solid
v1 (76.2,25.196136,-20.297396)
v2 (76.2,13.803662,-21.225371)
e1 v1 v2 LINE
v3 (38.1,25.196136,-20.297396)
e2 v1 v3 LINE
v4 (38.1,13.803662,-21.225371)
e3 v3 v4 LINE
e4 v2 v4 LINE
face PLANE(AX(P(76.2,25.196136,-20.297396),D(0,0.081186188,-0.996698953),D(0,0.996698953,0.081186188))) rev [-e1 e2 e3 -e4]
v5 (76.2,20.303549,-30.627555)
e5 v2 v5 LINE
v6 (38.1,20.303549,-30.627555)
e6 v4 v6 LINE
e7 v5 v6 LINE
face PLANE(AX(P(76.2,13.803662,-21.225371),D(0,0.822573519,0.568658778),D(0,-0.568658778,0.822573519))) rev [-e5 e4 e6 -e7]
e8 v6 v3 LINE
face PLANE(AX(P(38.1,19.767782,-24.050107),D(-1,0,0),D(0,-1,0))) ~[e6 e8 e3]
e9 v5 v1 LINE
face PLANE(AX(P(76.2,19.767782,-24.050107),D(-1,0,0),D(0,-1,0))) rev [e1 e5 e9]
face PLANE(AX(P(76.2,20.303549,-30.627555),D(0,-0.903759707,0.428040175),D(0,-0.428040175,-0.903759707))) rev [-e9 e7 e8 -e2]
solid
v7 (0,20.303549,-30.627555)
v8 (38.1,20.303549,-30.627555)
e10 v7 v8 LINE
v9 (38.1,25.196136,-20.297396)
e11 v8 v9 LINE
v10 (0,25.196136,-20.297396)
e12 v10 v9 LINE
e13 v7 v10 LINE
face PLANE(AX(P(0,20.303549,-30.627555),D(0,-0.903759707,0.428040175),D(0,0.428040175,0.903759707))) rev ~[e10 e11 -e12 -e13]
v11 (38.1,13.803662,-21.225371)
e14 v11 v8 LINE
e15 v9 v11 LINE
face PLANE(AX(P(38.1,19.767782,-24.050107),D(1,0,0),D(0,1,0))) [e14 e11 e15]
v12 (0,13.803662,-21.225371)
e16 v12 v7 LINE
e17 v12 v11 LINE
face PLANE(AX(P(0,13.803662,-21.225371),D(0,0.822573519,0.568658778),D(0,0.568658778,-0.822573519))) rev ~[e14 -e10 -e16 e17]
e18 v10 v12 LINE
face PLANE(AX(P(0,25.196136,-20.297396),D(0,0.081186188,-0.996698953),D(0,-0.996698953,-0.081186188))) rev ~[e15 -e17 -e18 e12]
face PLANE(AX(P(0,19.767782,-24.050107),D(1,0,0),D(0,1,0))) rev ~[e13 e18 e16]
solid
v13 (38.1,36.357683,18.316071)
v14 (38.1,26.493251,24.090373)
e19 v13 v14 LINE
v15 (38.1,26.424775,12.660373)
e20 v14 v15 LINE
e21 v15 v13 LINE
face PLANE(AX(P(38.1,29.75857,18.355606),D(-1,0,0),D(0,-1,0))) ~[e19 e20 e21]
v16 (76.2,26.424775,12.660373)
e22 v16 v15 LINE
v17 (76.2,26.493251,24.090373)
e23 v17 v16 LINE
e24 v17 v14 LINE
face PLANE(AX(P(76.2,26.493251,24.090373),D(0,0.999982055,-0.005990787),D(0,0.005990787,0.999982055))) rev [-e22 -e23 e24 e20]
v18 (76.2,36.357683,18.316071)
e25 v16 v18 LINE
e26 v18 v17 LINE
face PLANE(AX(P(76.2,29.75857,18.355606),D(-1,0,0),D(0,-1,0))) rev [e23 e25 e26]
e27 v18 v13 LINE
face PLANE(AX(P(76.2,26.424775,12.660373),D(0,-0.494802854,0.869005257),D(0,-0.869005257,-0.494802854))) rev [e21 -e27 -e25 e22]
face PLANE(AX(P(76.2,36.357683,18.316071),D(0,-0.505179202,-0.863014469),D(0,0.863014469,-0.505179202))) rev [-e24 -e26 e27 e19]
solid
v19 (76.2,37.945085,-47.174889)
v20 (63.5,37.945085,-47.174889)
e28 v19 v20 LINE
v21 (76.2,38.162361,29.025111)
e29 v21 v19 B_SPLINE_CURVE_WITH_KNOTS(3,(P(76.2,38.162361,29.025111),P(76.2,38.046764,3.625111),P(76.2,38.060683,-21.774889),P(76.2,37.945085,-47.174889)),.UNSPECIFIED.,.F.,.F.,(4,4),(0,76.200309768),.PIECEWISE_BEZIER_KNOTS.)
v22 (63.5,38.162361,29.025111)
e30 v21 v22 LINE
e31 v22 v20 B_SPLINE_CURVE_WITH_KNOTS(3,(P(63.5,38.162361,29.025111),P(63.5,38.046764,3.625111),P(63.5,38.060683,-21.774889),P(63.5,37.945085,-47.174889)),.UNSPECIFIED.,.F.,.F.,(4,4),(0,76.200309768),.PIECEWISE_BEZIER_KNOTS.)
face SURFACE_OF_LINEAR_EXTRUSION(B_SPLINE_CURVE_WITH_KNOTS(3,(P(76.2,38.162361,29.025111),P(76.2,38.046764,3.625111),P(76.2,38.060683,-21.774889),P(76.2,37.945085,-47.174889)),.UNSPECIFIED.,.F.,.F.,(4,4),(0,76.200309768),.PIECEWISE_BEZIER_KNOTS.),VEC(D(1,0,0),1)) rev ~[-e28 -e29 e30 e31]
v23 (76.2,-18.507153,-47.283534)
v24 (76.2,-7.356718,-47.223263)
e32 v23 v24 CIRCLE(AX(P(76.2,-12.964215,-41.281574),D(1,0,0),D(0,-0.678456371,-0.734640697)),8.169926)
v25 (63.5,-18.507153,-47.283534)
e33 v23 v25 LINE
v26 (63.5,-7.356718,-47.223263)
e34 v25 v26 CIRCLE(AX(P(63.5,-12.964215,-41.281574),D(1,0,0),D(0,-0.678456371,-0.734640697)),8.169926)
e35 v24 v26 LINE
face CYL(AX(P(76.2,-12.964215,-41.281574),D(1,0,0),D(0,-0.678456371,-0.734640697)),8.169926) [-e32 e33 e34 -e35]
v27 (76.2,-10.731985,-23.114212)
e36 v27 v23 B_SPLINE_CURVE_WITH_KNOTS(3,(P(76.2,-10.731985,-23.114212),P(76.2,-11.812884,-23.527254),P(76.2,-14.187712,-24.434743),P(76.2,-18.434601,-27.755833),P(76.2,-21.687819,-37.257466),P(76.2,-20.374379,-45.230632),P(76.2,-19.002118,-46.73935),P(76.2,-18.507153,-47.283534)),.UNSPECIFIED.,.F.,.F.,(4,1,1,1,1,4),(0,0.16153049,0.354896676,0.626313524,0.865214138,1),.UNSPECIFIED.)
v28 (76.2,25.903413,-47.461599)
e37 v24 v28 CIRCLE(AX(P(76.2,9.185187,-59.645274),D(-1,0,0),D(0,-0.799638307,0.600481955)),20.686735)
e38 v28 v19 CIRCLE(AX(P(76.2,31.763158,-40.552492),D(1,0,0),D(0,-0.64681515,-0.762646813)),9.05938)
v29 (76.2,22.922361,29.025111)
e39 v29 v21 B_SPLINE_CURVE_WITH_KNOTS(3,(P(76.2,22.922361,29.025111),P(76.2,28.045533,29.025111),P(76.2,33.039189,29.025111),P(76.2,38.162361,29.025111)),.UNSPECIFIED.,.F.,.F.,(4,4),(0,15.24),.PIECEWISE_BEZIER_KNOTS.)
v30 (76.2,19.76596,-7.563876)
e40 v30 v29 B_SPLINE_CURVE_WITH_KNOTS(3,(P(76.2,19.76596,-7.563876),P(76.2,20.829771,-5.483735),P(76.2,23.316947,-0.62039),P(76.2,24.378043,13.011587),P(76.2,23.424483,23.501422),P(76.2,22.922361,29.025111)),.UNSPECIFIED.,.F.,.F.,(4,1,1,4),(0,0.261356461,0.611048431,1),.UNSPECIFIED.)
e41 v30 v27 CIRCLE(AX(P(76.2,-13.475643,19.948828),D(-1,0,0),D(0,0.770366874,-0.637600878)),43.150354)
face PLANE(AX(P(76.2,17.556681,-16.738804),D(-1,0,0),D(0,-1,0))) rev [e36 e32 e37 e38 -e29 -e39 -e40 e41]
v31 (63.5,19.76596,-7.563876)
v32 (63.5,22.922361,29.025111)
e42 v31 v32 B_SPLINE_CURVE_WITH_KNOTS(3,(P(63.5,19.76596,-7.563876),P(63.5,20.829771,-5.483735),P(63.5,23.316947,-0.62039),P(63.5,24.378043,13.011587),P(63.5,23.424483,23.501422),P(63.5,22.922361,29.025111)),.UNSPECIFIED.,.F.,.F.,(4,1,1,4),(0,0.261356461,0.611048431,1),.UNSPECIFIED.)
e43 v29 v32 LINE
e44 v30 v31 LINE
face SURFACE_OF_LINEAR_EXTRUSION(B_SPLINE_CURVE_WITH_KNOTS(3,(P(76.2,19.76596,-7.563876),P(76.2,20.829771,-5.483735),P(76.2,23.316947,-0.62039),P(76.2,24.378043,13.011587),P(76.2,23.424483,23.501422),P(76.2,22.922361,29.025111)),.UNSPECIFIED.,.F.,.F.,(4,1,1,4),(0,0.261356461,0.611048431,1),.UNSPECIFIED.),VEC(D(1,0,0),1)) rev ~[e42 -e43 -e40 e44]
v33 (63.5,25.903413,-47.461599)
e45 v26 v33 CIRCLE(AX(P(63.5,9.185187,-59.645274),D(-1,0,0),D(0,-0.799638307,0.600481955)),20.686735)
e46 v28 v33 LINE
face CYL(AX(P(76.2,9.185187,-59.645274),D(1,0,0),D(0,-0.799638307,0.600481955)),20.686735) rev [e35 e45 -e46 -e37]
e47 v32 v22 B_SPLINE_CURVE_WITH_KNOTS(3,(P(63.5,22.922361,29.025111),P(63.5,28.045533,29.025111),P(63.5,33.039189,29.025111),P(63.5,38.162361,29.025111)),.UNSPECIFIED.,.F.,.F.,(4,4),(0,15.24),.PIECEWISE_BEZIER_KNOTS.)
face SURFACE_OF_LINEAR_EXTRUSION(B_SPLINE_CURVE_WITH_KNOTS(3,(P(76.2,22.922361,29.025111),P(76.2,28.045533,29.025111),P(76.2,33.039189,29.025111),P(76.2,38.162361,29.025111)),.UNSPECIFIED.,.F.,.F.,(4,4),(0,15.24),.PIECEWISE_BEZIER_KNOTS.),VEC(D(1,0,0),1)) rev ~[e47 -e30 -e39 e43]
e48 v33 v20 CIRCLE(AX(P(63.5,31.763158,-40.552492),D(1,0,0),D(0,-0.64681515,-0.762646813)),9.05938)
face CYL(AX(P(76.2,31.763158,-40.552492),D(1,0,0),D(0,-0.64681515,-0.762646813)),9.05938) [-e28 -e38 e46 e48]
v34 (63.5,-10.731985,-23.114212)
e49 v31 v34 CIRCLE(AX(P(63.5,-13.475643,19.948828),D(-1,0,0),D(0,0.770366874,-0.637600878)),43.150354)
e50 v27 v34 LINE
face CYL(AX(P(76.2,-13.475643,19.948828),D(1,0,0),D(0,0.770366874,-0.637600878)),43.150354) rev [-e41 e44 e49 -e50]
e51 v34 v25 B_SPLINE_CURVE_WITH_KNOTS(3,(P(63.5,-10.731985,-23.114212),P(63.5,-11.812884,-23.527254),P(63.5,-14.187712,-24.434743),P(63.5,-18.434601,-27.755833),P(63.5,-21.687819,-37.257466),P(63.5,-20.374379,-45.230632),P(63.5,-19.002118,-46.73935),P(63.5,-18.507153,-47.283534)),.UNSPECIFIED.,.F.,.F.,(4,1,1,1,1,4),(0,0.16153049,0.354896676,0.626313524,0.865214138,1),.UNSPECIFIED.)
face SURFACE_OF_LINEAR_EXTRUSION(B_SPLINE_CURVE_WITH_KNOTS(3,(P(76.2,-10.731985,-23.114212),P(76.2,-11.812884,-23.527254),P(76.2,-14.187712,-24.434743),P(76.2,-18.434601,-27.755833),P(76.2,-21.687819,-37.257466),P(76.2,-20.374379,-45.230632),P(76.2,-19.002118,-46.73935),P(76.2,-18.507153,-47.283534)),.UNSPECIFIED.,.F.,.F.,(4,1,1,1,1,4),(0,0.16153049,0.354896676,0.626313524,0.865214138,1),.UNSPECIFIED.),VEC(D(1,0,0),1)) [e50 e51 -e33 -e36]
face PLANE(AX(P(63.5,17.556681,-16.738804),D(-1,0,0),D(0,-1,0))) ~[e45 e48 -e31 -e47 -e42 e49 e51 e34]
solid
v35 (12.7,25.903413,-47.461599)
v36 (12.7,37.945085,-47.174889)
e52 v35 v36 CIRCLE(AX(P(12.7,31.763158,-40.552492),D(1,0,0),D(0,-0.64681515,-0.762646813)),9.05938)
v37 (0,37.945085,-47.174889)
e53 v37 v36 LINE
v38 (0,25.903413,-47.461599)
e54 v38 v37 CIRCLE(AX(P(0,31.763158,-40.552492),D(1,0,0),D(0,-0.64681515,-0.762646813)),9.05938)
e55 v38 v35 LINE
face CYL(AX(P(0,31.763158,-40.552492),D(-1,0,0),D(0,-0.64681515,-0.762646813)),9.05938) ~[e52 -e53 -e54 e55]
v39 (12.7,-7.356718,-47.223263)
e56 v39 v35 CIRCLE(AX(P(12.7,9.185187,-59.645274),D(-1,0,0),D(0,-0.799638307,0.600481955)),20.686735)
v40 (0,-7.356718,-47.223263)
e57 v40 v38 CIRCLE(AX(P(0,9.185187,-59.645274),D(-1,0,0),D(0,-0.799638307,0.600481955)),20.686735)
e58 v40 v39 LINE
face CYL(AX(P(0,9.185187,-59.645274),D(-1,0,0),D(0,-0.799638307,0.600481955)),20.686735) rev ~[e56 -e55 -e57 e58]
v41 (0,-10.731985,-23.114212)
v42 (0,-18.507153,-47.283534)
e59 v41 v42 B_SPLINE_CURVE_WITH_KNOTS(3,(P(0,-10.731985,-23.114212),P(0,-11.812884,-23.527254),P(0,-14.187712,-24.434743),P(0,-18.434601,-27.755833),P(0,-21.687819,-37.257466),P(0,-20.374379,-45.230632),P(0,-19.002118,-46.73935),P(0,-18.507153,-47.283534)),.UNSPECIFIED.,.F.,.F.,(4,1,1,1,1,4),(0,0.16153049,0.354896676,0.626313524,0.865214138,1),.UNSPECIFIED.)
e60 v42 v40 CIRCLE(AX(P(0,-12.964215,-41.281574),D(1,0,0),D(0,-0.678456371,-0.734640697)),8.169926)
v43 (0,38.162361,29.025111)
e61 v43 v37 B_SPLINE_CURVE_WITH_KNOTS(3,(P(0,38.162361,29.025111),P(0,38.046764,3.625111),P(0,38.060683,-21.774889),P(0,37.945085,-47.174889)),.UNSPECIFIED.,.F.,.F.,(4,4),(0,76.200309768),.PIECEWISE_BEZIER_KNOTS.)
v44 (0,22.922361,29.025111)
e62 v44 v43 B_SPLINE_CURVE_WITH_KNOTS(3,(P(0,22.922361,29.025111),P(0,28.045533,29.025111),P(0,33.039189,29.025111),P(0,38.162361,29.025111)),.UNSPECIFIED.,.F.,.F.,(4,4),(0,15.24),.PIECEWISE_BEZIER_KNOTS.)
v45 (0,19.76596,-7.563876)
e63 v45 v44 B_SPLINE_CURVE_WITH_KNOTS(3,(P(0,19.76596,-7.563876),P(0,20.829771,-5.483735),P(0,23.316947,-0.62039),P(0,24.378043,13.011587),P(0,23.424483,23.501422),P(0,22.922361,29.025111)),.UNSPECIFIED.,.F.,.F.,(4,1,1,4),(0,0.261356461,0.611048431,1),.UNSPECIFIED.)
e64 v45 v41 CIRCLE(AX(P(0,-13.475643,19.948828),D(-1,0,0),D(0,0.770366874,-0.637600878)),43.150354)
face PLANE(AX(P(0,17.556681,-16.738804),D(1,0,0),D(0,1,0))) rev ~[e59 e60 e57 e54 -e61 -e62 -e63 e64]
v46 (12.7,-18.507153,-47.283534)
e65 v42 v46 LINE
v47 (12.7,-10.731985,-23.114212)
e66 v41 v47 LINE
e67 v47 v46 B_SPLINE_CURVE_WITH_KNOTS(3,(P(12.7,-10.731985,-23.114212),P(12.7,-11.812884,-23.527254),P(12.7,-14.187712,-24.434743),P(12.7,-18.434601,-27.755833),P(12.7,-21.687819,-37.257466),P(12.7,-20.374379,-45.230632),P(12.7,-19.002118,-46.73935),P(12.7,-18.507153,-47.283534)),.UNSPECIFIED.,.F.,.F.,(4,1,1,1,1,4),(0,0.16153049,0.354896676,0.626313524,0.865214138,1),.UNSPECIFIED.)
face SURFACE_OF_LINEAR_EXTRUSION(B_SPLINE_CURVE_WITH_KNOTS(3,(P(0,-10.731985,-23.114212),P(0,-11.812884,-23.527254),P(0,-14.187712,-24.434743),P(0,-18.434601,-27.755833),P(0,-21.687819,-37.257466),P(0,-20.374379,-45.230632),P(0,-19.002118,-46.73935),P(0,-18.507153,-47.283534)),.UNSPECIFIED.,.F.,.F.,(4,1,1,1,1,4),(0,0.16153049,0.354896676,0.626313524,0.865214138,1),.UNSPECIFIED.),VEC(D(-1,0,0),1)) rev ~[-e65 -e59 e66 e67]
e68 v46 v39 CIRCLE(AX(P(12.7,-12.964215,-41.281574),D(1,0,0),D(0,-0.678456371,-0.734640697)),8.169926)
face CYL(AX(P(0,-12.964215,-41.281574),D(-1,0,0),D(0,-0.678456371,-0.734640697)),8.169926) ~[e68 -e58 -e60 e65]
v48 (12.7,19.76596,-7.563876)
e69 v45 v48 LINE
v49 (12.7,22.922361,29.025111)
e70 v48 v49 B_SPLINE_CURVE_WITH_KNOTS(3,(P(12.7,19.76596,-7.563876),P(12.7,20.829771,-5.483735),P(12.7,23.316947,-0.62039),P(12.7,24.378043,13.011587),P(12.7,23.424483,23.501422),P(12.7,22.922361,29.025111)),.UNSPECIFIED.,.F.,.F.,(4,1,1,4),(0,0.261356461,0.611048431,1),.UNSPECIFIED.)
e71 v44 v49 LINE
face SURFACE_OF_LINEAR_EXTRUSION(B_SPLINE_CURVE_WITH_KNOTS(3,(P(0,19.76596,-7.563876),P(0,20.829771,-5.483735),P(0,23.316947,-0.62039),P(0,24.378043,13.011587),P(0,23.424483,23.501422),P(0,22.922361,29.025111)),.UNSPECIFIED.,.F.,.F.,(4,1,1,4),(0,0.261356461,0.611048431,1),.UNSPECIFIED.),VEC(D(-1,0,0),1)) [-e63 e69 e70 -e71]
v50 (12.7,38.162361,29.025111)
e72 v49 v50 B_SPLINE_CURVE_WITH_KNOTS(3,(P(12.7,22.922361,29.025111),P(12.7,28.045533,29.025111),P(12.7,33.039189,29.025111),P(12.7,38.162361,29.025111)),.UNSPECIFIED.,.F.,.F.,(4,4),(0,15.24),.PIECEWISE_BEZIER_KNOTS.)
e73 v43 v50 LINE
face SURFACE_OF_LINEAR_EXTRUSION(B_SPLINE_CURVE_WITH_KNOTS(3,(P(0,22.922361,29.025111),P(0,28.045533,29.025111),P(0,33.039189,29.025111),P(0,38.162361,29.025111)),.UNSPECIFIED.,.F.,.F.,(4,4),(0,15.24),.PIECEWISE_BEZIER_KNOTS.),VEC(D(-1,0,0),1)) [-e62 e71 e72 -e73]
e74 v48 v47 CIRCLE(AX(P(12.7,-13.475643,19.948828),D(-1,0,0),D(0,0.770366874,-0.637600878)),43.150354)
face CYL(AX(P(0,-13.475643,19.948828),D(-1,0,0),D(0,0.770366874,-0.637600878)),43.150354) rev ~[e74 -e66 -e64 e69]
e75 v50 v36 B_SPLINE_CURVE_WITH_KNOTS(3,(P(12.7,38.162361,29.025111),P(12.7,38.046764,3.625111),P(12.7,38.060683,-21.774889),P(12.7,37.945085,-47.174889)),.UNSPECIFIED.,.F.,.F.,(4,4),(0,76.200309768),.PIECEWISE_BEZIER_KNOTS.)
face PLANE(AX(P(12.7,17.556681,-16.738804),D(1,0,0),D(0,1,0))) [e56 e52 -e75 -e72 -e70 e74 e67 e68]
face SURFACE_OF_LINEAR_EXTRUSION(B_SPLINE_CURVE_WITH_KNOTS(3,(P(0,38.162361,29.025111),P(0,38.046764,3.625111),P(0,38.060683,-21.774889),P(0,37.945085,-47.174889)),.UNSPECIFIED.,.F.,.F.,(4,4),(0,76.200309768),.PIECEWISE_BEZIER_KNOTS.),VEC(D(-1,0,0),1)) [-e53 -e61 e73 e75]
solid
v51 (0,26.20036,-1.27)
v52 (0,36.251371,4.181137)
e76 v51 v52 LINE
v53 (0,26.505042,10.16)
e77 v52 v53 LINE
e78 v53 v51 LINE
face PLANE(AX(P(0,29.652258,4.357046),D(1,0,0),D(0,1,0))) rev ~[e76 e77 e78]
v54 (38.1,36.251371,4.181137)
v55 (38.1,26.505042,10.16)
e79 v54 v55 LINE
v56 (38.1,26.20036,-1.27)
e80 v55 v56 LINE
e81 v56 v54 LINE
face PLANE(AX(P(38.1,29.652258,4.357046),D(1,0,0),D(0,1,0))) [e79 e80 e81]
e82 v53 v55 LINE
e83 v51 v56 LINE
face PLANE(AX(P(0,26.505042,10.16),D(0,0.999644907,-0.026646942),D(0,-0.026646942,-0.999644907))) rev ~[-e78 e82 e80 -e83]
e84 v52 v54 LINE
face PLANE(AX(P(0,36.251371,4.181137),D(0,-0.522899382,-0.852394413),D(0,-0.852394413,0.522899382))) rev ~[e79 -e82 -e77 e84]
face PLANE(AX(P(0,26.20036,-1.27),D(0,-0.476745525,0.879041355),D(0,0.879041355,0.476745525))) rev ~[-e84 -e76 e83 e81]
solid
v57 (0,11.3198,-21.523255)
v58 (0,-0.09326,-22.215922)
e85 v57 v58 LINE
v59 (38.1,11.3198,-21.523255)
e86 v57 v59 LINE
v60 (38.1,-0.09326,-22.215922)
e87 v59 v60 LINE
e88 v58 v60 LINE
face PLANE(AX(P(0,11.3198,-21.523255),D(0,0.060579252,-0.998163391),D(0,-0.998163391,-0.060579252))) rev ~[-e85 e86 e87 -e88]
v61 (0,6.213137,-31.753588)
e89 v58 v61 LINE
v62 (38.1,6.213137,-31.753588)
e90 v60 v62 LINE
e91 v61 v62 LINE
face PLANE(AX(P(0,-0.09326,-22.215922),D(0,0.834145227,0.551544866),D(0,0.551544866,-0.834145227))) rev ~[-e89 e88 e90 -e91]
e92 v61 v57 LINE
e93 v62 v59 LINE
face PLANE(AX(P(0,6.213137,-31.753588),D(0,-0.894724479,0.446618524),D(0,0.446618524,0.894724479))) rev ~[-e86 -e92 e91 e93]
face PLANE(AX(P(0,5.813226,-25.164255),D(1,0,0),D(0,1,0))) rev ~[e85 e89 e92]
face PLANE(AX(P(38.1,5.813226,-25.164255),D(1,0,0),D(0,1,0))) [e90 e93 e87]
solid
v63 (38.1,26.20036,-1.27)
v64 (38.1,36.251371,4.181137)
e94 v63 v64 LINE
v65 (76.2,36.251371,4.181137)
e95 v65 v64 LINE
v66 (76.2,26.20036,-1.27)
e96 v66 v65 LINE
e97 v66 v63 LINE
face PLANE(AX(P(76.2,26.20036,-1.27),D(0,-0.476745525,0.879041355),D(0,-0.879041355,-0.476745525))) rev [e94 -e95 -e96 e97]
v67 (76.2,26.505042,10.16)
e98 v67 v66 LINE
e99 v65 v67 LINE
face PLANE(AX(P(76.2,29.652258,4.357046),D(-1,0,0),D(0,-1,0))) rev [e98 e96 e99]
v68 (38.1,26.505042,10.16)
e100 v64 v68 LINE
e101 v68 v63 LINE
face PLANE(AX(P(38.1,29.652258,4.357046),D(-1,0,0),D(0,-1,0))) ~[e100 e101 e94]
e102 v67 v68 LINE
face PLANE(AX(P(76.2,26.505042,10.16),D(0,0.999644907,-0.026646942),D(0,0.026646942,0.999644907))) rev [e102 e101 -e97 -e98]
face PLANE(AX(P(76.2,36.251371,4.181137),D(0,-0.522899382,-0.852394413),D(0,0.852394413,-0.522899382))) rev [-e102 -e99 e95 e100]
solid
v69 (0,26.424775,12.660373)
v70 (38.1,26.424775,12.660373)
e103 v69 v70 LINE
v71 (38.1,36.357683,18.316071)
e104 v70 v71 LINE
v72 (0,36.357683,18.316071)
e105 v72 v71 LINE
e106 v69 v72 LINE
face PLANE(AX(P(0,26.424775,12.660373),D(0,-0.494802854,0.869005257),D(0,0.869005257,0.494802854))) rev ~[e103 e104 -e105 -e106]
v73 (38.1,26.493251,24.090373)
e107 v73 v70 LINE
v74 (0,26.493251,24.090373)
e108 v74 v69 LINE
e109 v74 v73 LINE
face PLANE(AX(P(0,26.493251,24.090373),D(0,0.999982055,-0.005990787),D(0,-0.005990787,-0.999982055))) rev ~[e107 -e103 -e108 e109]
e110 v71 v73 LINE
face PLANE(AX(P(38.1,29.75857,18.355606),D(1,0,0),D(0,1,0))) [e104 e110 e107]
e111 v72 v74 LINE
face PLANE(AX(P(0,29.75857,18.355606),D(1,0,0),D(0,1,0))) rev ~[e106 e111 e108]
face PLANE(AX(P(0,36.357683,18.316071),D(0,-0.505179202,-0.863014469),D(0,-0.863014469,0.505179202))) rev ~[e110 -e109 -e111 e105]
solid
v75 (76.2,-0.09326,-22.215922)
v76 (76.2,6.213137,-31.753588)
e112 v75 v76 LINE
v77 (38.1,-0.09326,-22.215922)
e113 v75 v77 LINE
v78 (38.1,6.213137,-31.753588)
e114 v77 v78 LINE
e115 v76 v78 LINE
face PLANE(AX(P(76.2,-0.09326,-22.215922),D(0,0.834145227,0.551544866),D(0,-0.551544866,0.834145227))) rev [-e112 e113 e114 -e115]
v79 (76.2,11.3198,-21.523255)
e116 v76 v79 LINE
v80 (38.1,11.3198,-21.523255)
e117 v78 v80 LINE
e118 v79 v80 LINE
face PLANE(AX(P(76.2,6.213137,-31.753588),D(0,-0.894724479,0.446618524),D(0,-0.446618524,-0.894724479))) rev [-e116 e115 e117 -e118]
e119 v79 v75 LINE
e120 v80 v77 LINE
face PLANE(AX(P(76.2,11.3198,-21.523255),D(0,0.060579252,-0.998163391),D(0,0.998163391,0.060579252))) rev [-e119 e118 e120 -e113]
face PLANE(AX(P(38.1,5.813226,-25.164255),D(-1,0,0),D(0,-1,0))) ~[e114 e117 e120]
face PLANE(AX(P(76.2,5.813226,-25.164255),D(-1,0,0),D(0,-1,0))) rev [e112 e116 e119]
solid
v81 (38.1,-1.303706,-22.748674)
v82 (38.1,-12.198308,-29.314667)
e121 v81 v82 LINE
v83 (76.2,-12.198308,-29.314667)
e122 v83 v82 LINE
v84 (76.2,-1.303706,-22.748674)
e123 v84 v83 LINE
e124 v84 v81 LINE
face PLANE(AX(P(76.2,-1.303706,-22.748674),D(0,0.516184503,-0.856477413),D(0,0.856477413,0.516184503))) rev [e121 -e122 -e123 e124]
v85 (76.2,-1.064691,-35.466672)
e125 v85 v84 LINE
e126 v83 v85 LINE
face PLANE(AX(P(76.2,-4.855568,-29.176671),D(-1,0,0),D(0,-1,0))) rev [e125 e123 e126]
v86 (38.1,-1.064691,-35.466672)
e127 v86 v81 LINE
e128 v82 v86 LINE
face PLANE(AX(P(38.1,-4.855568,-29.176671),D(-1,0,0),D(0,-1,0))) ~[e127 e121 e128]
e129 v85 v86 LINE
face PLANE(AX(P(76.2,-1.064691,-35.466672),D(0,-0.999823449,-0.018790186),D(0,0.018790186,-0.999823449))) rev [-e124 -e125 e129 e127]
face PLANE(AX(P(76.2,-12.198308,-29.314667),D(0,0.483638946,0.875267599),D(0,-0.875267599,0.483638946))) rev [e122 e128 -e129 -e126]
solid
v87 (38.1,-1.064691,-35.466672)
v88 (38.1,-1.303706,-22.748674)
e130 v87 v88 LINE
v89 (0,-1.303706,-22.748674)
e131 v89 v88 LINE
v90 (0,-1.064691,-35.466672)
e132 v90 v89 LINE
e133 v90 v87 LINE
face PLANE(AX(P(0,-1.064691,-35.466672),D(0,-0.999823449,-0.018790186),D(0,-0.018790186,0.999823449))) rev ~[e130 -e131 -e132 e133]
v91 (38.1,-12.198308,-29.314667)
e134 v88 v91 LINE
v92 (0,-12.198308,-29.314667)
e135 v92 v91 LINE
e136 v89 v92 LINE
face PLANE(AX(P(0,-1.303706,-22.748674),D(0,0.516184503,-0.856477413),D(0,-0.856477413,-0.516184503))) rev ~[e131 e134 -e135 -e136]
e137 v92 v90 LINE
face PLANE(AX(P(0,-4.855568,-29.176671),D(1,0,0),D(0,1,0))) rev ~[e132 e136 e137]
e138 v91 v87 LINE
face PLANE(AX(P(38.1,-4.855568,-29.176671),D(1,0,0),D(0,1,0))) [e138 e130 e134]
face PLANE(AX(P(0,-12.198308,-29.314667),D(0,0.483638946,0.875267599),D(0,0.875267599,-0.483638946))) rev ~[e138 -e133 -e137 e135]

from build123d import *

# Parameters (mm, degrees)
F3_DEPTH = 38.1
F4_DEPTH = 12.7


with BuildPart() as f3:
    # F1 (on face) → F3 (new body)
    with BuildSketch(Plane.YZ):
        Polygon((26.4932508283, 24.0903730023), (26.4247749001, 12.6603730023), (36.3576832294, 18.3160711089), align=None)
    extrude(amount=F3_DEPTH)


with BuildPart() as f3b:
    # F1 (on face) → F3, piece 2 (new body)
    with BuildSketch(Plane.YZ):
        Polygon((36.2513714214, 4.1811371174), (26.5050424251, 10.1600001085), (26.2003596872, -1.2699998915), align=None)
    extrude(amount=F3_DEPTH)


with BuildPart() as f3c:
    # F2 (on face) → F3, piece 3 (new body)
    with BuildSketch(Plane.YZ):
        Polygon((25.1961359321, -20.2973962285), (13.8036624626, -21.2253710115), (20.3035489335, -30.6275550566), align=None)
    extrude(amount=F3_DEPTH)


with BuildPart() as f3d:
    # F2 (on face) → F3, piece 4 (new body)
    with BuildSketch(Plane.YZ):
        Polygon((6.2131369486, -31.7535884678), (11.3198000183, -21.5232549511), (-0.0932602313, -22.2159217626), align=None)
    extrude(amount=F3_DEPTH)


with BuildPart() as f3e:
    # F2 (on face) → F3, piece 5 (new body)
    with BuildSketch(Plane.YZ):
        Polygon((-1.3037063213, -22.7486744347), (-12.1983075514, -29.3146669865), (-1.0646905855, -35.46667214), align=None)
    extrude(amount=F3_DEPTH)


with BuildPart() as f4:
    # F0 (on Right) → F4 (new body)
    with BuildSketch(Plane.YZ):
        with BuildLine():
            ThreePointArc((-7.3567183398, -47.2232625549), (9.3334213139, -38.9590697867), (25.9034133322, -47.4615993096))
            ThreePointArc((25.9034133322, -47.4615993096), (31.9787992781, -49.6093052248), (37.9450854506, -47.1748885802))
            add(Edge.make_bspline(
                [(38.1623610982, 29.0251114198), (38.0467636502, 3.6251114198), (38.0606828985, -21.7748885802), (37.9450854506, -47.1748885802)],
                knots=[0, 0, 0, 0, 76.2003097678, 76.2003097678, 76.2003097678, 76.2003097678], degree=3))
            add(Edge.make_bspline(
                [(22.9223610982, 29.0251114198), (28.0455333303, 29.0251114198), (33.0391888661, 29.0251114198), (38.1623610982, 29.0251114198)],
                knots=[0, 0, 0, 0, 15.24, 15.24, 15.24, 15.24], degree=3))
            add(Edge.make_bspline(
                [(19.7659601793, -7.5638759529), (20.8297706654, -5.4837352038), (23.3169474769, -0.6203898018), (24.3780430145, 13.0115869391), (23.4244826142, 23.5014217326), (22.9223610982, 29.0251114198)],
                knots=[0, 0, 0, 0, 0.2613564606, 0.6110484311, 1, 1, 1, 1], degree=3))
            ThreePointArc((19.7659601793, -7.5638759529), (6.1250709832, -18.4928822007), (-10.7319852748, -23.1142120897))
            add(Edge.make_bspline(
                [(-10.7319852748, -23.1142120897), (-11.812883555, -23.5272538733), (-14.1877120248, -24.4347429542), (-18.4346007939, -27.7558327017), (-21.6878193154, -37.2574657437), (-20.3743791224, -45.2306316491), (-19.0021176056, -46.7393504707), (-18.5071533432, -47.2835338422)],
                knots=[0, 0, 0, 0, 0.1615304902, 0.3548966761, 0.6263135245, 0.8652141385, 1, 1, 1, 1], degree=3))
            ThreePointArc((-18.5071533432, -47.2835338422), (-12.9200551204, -49.4513802656), (-7.3567183398, -47.2232625549))
        make_face()
    extrude(amount=F4_DEPTH)


with BuildPart() as f5_1:
    # F5: instance of F4
    add(f4.part.mirror(Plane(origin=(38.1, 29.7585696526, 18.3556057045), x_dir=(0, 1, 0), z_dir=(1, 0, 0))))


with BuildPart() as f5_2:
    # F5: instance of F3
    add(f3.part.mirror(Plane(origin=(38.1, 29.7585696526, 18.3556057045), x_dir=(0, 1, 0), z_dir=(1, 0, 0))))


with BuildPart() as f5_3:
    # F5: instance of F3b
    add(f3b.part.mirror(Plane(origin=(38.1, 29.7585696526, 18.3556057045), x_dir=(0, 1, 0), z_dir=(1, 0, 0))))


with BuildPart() as f5_4:
    # F5: instance of F3c
    add(f3c.part.mirror(Plane(origin=(38.1, 29.7585696526, 18.3556057045), x_dir=(0, 1, 0), z_dir=(1, 0, 0))))


with BuildPart() as f5_5:
    # F5: instance of F3d
    add(f3d.part.mirror(Plane(origin=(38.1, 29.7585696526, 18.3556057045), x_dir=(0, 1, 0), z_dir=(1, 0, 0))))


with BuildPart() as f5_6:
    # F5: instance of F3e
    add(f3e.part.mirror(Plane(origin=(38.1, 29.7585696526, 18.3556057045), x_dir=(0, 1, 0), z_dir=(1, 0, 0))))


solid = Compound([f3.part, f3b.part, f3c.part, f3d.part, f3e.part, f4.part, f5_1.part, f5_2.part, f5_3.part, f5_4.part, f5_5.part, f5_6.part])
